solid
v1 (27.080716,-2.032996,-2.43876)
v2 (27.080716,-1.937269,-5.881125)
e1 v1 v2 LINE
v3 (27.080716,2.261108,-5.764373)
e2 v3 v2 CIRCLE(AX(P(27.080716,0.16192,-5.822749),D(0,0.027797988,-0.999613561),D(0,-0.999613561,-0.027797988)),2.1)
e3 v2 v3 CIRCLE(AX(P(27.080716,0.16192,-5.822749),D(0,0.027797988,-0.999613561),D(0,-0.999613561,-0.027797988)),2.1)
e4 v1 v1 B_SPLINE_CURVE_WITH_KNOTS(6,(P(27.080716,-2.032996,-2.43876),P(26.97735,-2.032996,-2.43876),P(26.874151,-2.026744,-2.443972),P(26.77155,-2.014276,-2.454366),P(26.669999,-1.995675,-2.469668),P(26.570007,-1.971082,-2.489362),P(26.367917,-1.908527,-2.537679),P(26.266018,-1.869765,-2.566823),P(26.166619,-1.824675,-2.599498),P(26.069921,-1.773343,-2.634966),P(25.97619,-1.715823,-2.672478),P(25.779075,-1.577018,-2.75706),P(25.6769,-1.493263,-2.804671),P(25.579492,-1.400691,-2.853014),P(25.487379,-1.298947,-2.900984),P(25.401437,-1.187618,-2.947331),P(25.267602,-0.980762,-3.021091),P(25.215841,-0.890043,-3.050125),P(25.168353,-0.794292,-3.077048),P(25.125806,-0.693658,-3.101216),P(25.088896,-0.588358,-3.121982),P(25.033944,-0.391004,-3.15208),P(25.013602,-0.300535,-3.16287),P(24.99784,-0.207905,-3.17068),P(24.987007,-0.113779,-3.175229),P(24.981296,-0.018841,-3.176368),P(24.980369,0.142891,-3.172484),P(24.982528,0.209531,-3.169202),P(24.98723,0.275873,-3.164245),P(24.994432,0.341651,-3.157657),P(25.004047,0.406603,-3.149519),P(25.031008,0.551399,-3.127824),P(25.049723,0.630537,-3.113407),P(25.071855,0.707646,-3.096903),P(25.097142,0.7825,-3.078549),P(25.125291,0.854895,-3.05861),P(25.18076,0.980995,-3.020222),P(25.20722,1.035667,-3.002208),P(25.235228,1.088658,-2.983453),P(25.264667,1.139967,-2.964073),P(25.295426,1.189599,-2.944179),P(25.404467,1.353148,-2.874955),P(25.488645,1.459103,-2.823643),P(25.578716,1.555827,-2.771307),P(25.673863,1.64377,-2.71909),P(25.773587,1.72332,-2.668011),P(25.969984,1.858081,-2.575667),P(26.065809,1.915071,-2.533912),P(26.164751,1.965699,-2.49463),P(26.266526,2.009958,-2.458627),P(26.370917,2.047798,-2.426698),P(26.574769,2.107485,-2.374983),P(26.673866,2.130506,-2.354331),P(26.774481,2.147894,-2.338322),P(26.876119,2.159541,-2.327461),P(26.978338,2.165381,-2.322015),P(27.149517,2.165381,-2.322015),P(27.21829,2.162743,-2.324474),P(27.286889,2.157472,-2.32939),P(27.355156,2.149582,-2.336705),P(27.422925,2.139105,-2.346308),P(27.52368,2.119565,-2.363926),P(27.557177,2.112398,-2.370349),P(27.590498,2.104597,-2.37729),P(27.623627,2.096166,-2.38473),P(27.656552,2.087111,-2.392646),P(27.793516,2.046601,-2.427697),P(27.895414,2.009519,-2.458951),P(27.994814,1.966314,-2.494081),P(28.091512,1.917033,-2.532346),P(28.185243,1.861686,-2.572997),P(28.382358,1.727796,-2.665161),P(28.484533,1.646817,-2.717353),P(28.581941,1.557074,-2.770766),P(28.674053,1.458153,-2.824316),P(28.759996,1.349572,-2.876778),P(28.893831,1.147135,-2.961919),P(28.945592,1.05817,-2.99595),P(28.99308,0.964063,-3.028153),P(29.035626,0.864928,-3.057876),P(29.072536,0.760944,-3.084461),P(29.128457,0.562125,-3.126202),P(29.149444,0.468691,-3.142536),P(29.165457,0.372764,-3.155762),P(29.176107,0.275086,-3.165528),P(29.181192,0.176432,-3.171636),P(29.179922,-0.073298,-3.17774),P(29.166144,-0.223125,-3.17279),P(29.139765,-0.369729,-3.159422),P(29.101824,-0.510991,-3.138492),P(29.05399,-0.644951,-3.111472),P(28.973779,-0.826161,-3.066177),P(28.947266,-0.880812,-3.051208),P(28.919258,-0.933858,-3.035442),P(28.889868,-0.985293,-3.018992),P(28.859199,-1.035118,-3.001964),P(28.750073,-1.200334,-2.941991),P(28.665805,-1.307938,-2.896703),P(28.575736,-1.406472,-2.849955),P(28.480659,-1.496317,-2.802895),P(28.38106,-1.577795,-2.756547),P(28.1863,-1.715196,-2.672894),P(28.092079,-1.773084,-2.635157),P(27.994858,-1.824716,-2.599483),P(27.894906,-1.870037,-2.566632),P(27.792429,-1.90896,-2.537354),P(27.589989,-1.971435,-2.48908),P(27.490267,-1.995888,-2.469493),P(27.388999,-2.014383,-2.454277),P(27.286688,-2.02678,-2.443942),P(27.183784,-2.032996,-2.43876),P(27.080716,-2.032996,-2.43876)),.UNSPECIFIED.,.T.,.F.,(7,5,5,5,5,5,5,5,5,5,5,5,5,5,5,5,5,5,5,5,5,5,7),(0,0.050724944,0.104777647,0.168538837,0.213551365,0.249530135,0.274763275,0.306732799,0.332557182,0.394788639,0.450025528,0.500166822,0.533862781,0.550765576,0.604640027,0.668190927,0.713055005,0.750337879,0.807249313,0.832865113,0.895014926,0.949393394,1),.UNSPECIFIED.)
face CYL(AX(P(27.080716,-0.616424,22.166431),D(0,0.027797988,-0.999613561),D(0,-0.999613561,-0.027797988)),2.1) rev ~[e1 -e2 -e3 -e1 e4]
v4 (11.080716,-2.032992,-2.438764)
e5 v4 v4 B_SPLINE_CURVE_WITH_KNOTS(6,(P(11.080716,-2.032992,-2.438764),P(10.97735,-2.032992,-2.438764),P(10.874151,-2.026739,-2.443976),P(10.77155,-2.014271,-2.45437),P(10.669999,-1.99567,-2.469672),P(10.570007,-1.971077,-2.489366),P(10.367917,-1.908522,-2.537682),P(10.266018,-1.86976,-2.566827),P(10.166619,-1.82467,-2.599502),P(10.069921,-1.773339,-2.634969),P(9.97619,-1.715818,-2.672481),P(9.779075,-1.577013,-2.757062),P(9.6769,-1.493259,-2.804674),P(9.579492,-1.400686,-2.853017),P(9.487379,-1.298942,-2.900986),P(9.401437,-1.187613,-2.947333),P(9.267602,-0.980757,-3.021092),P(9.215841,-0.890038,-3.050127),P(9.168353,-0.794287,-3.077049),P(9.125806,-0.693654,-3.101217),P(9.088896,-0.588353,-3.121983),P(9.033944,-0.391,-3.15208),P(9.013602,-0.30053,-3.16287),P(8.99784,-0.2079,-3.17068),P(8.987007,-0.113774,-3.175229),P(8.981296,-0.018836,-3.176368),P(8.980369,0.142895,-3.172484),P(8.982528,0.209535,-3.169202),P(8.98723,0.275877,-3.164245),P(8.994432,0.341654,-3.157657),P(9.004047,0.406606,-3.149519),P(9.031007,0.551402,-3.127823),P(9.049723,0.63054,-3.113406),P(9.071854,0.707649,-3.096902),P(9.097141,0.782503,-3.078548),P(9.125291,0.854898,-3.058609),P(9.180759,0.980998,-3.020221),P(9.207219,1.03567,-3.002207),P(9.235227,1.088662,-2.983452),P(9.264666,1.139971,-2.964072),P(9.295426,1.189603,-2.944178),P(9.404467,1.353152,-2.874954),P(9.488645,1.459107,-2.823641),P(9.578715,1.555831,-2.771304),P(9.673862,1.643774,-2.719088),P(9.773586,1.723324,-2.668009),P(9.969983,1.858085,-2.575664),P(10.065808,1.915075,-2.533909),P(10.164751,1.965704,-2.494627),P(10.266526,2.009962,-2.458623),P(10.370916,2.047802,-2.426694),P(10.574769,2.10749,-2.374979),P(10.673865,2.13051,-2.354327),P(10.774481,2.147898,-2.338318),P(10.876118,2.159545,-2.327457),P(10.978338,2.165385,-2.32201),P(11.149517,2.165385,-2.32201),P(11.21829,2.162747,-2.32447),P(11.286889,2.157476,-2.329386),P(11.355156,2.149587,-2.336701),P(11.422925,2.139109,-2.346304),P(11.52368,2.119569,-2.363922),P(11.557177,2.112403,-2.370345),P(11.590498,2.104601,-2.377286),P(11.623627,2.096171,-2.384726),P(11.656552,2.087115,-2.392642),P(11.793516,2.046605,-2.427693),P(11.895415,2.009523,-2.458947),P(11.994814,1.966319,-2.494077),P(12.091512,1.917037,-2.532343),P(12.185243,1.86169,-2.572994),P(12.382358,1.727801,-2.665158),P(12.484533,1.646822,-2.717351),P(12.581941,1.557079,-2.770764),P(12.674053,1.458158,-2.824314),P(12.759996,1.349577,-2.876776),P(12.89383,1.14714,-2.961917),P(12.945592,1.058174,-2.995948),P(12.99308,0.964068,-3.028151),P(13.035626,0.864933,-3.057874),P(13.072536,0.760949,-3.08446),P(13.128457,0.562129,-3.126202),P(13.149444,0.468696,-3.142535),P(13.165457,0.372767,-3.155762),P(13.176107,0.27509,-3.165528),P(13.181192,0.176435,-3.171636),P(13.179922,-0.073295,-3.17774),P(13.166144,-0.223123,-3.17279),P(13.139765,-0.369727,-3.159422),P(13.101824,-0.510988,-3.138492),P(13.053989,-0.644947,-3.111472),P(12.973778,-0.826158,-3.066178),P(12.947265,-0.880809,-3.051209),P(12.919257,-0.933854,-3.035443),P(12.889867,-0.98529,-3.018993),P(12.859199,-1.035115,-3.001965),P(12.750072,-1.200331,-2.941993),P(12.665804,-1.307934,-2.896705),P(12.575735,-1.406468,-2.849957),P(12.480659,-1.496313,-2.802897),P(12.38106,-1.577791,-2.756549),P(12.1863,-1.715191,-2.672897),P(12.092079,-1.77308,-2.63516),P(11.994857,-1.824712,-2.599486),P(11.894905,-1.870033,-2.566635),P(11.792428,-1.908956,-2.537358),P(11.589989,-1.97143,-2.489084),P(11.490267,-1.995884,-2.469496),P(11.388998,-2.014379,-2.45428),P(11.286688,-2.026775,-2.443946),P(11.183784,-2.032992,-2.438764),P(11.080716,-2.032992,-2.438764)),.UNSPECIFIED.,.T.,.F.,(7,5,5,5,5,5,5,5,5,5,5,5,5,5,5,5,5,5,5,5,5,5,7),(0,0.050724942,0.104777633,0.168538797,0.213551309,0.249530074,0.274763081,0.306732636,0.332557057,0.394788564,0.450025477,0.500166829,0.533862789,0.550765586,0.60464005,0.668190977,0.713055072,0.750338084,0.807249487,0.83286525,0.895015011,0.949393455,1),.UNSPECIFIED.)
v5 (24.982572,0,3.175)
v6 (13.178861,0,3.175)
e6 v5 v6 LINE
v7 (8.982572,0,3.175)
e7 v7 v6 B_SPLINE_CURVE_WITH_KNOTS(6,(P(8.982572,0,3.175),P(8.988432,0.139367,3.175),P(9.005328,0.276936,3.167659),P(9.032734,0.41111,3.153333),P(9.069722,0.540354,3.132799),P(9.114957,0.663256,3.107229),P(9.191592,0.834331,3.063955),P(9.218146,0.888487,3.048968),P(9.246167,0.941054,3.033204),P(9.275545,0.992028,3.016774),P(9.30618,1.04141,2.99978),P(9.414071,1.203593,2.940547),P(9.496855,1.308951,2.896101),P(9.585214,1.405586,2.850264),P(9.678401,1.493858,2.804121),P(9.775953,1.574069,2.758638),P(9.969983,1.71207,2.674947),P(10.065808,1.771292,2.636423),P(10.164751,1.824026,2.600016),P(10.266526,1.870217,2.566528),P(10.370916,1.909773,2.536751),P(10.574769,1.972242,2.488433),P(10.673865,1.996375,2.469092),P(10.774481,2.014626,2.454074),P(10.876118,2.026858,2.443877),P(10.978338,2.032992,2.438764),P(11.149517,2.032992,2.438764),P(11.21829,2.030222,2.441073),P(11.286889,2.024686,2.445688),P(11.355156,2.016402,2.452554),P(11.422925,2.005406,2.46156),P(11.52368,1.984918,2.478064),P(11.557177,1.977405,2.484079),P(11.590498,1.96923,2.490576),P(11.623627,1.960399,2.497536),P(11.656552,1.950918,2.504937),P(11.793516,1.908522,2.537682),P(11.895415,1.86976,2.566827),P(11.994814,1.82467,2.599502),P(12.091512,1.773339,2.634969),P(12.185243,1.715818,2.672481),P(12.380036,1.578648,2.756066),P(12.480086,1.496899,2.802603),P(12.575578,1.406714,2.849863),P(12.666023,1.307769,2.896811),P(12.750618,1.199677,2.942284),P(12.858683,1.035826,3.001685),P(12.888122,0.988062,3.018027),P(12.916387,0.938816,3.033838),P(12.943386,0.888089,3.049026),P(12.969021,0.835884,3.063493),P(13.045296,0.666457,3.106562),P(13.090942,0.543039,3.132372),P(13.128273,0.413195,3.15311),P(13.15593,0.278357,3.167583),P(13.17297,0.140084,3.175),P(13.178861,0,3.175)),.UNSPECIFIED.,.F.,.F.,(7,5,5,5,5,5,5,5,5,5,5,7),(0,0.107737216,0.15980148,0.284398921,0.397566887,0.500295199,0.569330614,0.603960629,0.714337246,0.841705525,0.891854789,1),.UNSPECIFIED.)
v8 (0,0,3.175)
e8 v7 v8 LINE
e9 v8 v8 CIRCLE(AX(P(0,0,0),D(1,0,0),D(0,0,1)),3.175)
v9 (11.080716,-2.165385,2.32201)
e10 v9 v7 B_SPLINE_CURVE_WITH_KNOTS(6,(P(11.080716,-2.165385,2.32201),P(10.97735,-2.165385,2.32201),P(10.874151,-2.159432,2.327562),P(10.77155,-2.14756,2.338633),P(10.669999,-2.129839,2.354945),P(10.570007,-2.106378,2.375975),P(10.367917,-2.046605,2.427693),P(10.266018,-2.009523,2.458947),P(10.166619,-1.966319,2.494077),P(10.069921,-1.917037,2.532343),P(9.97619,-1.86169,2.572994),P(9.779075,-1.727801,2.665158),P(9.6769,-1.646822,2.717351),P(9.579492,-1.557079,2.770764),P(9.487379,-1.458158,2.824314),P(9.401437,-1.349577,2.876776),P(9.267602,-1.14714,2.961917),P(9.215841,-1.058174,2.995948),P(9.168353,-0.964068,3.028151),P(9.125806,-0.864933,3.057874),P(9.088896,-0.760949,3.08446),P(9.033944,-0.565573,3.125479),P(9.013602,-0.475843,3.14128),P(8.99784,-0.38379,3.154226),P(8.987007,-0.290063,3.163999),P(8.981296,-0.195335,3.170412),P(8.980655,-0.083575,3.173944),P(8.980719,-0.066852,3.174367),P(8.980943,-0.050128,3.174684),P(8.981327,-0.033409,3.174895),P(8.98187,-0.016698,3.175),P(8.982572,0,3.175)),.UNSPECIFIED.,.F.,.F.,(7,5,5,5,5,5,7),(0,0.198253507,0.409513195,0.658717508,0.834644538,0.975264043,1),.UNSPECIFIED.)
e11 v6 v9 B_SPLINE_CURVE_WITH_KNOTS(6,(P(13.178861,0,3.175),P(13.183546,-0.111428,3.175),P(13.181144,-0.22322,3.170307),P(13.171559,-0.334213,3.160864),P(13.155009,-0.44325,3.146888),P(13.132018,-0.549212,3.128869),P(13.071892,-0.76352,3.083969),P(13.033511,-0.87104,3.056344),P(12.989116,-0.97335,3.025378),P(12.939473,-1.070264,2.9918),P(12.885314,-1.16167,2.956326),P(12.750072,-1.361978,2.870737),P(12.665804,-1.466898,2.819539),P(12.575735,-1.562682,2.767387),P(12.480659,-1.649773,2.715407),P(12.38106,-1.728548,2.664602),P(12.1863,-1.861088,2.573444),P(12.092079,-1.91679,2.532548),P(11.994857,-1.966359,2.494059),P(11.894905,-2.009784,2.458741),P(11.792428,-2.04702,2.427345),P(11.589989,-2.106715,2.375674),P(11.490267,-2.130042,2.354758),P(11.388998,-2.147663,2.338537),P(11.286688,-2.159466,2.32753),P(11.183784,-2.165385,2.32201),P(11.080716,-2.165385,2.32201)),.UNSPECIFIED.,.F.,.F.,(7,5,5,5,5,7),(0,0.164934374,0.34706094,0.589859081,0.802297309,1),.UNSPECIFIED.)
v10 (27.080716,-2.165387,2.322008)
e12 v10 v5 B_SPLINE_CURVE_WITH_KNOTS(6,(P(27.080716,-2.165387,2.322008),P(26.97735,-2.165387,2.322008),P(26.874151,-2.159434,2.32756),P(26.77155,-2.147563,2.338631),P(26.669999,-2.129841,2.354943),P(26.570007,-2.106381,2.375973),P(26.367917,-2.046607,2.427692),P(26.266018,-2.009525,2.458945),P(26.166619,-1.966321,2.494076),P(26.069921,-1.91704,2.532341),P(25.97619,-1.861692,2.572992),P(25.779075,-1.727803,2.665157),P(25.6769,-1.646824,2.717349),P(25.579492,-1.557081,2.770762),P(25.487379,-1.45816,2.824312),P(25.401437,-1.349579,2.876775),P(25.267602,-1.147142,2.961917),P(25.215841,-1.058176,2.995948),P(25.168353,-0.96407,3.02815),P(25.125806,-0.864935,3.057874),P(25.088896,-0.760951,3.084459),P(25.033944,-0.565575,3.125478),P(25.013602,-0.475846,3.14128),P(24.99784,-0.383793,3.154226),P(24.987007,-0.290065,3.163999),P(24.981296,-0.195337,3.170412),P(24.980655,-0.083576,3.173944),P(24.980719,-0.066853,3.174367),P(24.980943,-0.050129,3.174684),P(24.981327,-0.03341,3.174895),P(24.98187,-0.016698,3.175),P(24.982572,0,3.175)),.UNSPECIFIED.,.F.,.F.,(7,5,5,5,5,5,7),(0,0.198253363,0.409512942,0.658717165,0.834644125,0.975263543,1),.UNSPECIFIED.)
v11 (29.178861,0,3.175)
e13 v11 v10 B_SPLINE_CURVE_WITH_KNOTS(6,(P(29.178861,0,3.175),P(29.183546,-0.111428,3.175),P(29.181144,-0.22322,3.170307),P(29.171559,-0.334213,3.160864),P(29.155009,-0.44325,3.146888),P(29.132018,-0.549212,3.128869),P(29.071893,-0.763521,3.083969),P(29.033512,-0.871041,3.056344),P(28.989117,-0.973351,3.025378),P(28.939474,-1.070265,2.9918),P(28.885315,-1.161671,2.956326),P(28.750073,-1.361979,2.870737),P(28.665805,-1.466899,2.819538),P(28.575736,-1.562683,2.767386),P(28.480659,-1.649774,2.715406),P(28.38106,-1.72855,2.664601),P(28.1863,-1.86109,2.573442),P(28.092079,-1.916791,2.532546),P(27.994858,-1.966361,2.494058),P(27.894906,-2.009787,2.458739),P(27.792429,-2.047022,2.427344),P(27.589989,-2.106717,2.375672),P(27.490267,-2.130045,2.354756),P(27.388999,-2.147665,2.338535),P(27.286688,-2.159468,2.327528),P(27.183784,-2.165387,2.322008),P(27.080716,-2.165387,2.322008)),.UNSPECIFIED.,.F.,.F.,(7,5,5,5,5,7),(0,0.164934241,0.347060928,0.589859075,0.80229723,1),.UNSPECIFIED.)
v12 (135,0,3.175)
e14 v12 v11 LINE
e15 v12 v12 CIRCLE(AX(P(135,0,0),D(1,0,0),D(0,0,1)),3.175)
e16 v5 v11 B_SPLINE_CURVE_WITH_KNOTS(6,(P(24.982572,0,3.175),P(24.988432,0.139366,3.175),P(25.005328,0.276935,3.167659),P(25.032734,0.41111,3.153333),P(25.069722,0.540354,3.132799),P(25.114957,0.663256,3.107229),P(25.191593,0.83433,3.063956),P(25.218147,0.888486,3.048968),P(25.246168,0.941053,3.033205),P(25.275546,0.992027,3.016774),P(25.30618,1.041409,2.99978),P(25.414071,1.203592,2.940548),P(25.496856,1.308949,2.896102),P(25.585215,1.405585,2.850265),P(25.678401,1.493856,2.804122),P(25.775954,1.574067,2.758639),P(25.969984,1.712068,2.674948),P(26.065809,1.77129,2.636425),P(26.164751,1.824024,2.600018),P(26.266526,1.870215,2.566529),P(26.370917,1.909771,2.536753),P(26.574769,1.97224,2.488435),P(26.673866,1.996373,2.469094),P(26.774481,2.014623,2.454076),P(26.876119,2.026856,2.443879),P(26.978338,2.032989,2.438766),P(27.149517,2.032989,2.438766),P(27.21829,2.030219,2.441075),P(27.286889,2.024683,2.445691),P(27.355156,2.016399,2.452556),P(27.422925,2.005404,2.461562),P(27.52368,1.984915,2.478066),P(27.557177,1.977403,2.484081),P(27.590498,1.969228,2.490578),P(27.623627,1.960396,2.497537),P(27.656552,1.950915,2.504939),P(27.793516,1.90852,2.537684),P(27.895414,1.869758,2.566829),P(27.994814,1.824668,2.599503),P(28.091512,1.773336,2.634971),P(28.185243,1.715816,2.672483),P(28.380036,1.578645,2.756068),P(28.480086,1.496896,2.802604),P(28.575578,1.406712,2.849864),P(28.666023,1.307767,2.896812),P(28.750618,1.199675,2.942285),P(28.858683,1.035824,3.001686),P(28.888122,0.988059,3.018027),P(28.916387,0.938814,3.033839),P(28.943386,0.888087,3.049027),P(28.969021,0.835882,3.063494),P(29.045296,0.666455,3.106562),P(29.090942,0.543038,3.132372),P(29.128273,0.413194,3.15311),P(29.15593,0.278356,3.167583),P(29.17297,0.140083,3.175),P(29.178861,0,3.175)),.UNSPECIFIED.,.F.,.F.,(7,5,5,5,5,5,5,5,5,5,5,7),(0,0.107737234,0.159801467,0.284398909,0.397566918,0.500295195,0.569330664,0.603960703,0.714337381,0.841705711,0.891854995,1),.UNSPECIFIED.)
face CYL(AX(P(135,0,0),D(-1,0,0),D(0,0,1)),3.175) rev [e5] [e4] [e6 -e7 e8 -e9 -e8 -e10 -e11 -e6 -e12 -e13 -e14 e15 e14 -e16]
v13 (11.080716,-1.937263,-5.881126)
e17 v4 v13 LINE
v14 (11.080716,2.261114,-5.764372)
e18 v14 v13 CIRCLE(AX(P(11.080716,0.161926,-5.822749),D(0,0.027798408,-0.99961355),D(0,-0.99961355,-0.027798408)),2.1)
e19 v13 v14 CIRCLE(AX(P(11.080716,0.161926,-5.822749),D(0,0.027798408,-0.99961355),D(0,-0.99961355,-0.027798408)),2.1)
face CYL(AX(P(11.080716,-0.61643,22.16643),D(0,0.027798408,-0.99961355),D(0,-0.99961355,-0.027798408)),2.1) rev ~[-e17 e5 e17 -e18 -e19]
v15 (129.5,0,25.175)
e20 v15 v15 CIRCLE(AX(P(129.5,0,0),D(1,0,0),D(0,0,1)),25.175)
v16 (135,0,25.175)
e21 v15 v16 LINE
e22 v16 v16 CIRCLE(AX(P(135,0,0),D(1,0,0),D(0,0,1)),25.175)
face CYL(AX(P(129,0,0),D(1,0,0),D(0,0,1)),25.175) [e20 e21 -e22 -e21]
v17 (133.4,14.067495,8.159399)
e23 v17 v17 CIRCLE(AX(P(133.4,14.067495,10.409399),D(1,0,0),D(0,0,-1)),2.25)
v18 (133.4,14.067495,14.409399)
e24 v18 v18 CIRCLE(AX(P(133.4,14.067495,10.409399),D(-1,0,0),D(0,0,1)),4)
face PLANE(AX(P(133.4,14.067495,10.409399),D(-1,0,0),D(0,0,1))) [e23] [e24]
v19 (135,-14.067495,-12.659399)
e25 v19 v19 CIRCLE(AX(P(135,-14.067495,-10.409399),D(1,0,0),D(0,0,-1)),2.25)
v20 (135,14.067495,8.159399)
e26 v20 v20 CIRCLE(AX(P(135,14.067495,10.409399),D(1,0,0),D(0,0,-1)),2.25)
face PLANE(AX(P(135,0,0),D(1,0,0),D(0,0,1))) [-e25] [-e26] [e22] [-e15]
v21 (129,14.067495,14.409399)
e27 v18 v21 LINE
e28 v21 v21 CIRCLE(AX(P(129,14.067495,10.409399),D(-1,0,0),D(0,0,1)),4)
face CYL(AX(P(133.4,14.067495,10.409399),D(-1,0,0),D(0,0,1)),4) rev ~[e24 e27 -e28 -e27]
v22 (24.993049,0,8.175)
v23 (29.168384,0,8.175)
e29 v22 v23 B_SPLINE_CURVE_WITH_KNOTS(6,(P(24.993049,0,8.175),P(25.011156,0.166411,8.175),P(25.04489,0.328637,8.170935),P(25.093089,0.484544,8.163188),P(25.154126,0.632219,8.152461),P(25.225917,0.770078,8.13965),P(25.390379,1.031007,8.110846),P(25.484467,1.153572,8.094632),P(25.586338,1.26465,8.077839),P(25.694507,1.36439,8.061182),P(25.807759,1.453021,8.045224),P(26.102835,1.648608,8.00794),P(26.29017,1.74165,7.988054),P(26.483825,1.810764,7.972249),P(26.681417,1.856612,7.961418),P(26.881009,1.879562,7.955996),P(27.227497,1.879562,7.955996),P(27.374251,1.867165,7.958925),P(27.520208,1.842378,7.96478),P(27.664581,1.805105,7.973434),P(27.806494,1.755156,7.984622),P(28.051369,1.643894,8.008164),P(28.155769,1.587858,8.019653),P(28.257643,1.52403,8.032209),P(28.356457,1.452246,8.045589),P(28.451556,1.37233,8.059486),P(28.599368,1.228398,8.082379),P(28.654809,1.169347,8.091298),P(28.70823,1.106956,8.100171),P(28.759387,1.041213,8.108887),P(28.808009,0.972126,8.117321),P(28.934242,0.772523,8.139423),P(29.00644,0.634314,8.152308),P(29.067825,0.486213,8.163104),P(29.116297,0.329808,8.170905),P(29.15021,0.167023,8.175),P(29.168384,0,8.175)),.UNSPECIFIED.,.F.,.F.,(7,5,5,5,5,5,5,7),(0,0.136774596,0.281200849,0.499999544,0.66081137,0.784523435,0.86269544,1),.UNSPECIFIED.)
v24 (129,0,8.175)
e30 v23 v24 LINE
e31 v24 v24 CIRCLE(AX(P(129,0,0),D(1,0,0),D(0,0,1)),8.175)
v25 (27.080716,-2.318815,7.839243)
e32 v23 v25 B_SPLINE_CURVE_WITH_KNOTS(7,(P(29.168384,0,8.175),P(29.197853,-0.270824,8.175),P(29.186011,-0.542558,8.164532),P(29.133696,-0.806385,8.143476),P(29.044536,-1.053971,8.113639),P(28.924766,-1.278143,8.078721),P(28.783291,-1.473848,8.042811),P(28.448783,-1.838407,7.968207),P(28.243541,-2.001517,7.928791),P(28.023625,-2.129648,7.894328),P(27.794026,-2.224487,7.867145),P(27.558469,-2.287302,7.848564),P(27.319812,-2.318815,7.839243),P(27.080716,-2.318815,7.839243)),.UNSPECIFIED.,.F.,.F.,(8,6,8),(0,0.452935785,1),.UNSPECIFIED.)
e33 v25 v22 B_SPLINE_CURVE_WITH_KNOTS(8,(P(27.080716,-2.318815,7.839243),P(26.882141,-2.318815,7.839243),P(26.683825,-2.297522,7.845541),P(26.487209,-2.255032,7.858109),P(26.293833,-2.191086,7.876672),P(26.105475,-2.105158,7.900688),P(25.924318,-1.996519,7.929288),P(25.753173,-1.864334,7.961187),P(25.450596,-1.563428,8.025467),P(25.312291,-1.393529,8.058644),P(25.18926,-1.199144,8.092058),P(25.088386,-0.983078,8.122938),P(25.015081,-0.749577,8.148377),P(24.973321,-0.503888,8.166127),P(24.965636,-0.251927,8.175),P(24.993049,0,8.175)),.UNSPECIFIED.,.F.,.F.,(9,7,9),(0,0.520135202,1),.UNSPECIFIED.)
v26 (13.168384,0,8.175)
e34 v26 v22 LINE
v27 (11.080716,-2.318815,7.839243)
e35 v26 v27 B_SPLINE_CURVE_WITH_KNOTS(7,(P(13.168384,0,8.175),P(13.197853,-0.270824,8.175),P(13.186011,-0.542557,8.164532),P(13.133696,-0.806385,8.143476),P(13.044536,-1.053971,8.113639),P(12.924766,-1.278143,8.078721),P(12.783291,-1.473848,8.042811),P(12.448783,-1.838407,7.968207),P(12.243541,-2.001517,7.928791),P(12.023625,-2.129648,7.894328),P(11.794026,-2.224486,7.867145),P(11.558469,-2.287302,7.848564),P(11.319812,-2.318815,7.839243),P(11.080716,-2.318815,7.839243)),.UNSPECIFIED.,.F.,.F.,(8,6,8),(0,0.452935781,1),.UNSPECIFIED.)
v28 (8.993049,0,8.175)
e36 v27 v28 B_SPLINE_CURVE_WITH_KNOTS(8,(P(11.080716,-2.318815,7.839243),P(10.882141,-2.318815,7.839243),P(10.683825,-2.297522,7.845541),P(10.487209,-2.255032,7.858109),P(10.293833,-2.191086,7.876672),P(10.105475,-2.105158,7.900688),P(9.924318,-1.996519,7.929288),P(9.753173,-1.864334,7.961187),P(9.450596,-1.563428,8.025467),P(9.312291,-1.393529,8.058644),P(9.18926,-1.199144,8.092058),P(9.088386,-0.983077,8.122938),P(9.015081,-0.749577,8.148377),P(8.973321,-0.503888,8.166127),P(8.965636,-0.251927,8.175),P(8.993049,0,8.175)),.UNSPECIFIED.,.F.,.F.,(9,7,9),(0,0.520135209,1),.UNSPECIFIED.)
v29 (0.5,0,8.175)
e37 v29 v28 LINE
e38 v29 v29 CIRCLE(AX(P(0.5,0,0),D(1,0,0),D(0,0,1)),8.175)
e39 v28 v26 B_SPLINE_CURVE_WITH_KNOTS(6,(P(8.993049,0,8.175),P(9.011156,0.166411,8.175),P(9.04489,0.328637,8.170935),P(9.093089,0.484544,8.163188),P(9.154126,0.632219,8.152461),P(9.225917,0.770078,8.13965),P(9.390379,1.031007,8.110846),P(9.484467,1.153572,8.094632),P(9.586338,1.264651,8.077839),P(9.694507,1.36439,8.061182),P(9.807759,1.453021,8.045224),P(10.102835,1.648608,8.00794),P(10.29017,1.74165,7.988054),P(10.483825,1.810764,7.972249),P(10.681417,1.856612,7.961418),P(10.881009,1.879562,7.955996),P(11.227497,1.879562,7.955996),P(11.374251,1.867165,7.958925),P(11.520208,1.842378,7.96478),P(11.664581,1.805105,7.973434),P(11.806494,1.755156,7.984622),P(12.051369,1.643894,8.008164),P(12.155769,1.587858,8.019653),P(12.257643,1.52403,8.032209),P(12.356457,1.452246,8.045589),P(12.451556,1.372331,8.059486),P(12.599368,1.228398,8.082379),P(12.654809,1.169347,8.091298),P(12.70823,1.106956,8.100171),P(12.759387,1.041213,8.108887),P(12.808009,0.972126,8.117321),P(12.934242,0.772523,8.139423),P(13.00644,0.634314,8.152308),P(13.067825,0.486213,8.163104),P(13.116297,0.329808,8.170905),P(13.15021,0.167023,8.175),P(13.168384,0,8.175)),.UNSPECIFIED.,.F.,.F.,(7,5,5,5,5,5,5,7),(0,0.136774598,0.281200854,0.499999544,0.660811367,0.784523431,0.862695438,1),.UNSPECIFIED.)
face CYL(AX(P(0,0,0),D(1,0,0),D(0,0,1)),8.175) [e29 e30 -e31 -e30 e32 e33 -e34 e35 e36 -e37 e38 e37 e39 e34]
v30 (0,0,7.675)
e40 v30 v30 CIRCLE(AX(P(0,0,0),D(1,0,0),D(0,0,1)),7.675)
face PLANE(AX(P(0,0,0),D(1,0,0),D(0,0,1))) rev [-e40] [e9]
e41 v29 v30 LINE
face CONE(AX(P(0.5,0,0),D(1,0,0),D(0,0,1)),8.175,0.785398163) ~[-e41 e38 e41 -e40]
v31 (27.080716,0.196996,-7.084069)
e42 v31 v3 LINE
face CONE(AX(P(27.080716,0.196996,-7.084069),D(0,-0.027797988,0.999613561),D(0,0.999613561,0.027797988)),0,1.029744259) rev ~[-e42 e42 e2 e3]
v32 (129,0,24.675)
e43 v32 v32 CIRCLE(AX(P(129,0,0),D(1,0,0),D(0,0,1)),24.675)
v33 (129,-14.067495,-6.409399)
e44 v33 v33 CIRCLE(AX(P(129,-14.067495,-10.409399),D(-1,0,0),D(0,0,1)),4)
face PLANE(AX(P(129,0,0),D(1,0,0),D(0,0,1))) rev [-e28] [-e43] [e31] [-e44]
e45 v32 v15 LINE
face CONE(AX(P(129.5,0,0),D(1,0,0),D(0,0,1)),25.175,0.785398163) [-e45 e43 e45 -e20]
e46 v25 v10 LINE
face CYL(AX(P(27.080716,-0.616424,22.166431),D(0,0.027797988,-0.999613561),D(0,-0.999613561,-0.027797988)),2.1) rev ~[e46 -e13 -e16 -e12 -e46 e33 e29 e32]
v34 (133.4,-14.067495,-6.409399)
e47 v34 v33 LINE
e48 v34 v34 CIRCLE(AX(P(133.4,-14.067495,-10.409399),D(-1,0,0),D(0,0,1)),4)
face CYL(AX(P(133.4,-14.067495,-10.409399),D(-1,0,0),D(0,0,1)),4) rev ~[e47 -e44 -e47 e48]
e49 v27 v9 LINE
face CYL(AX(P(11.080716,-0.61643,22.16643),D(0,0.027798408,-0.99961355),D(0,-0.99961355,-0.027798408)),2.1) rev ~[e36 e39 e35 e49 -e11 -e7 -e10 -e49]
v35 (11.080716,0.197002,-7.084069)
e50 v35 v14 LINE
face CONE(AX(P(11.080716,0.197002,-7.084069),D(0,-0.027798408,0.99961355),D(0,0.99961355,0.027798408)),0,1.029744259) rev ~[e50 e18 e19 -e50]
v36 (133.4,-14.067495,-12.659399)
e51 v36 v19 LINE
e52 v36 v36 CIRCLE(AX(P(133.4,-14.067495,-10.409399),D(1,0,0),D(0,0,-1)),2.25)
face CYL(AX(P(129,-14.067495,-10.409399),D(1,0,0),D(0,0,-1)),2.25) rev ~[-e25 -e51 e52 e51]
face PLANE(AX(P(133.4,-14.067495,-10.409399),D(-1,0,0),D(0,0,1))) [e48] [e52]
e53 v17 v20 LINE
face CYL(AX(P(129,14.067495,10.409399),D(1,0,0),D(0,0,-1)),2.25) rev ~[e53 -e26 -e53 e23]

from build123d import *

# Parameters (mm, degrees)
CHANFREIN1_SIZE                                    = 0.5
CHAMBRAGE_POUR_VIS_T_TE_HEXAGONALE_M41_D           = 4.5
CHAMBRAGE_POUR_VIS_T_TE_HEXAGONALE_M41_CBORE_D     = 8
CHAMBRAGE_POUR_VIS_T_TE_HEXAGONALE_M41_CBORE_DEPTH = 4.4
TROU_TARAUD_M51_D                                  = 4.2
TROU_TARAUD_M51_DEPTH                              = 14
TROU_TARAUD_M51_TIP                                = 1.2618073
TROU_TARAUD_M51_ON_FACE_2_D                        = 4.2
TROU_TARAUD_M51_ON_FACE_2_DEPTH                    = 14
TROU_TARAUD_M51_ON_FACE_2_TIP                      = 1.2618073


with BuildPart() as part:
    # Esquisse1 → Révolution1 (revolve)
    with BuildSketch(Plane.XY, mode=Mode.PRIVATE) as r_volution1_sk:
        Polygon((0, 8.175), (129, 8.175), (129, 25.175), (135, 25.175), (135, 3.175), (0, 3.175), align=None)
    revolve(r_volution1_sk.sketch.rotate(Axis((0, 0, 0), (1, 0, 0)), 90), axis=Axis((0, 0, 0), (1, 0, 0)))

    # Chanfrein1
    chanfrein1_edges = [part.edges().sort_by_distance(p)[0] for p in [
        (129, 0, -25.175),
        (0, 0, -8.175),
    ]]
    chamfer(chanfrein1_edges, length=CHANFREIN1_SIZE)

    # Chambrage pour vis à tête hexagonale M41 (through all)
    with Locations(Plane.ZY.offset(-129)):
        with Locations((-10.409398768, -14.067495061), (10.409398768, 14.067495061)):
            CounterBoreHole(CHAMBRAGE_POUR_VIS_T_TE_HEXAGONALE_M41_D / 2, CHAMBRAGE_POUR_VIS_T_TE_HEXAGONALE_M41_CBORE_D / 2, CHAMBRAGE_POUR_VIS_T_TE_HEXAGONALE_M41_CBORE_DEPTH)

    # Trou taraudé M51
    with Locations(Plane(origin=(11.080716358, -0.227251989, 8.171840768), x_dir=(0, 0.999613549573, 0.027798408415), z_dir=(0, -0.027798408415, 0.999613549573))):
        with Locations((0, 0)):
            Hole(TROU_TARAUD_M51_D / 2, depth=TROU_TARAUD_M51_DEPTH)
            with Locations((0, 0, -(TROU_TARAUD_M51_DEPTH + TROU_TARAUD_M51_TIP / 2))):  # 118° drill point
                Cone(0, TROU_TARAUD_M51_D / 2, TROU_TARAUD_M51_TIP, mode=Mode.SUBTRACT)

    # Trou taraudé M51 on face 2
    with Locations(Plane(origin=(27.080716358, -0.227251989, 8.171840768), x_dir=(0, 0.99961356127, 0.027797987799), z_dir=(0, -0.027797987799, 0.99961356127))):
        with Locations((0, 0)):
            Hole(TROU_TARAUD_M51_ON_FACE_2_D / 2, depth=TROU_TARAUD_M51_ON_FACE_2_DEPTH)
            with Locations((0, 0, -(TROU_TARAUD_M51_ON_FACE_2_DEPTH + TROU_TARAUD_M51_ON_FACE_2_TIP / 2))):  # 118° drill point
                Cone(0, TROU_TARAUD_M51_ON_FACE_2_D / 2, TROU_TARAUD_M51_ON_FACE_2_TIP, mode=Mode.SUBTRACT)


solid = part.part
